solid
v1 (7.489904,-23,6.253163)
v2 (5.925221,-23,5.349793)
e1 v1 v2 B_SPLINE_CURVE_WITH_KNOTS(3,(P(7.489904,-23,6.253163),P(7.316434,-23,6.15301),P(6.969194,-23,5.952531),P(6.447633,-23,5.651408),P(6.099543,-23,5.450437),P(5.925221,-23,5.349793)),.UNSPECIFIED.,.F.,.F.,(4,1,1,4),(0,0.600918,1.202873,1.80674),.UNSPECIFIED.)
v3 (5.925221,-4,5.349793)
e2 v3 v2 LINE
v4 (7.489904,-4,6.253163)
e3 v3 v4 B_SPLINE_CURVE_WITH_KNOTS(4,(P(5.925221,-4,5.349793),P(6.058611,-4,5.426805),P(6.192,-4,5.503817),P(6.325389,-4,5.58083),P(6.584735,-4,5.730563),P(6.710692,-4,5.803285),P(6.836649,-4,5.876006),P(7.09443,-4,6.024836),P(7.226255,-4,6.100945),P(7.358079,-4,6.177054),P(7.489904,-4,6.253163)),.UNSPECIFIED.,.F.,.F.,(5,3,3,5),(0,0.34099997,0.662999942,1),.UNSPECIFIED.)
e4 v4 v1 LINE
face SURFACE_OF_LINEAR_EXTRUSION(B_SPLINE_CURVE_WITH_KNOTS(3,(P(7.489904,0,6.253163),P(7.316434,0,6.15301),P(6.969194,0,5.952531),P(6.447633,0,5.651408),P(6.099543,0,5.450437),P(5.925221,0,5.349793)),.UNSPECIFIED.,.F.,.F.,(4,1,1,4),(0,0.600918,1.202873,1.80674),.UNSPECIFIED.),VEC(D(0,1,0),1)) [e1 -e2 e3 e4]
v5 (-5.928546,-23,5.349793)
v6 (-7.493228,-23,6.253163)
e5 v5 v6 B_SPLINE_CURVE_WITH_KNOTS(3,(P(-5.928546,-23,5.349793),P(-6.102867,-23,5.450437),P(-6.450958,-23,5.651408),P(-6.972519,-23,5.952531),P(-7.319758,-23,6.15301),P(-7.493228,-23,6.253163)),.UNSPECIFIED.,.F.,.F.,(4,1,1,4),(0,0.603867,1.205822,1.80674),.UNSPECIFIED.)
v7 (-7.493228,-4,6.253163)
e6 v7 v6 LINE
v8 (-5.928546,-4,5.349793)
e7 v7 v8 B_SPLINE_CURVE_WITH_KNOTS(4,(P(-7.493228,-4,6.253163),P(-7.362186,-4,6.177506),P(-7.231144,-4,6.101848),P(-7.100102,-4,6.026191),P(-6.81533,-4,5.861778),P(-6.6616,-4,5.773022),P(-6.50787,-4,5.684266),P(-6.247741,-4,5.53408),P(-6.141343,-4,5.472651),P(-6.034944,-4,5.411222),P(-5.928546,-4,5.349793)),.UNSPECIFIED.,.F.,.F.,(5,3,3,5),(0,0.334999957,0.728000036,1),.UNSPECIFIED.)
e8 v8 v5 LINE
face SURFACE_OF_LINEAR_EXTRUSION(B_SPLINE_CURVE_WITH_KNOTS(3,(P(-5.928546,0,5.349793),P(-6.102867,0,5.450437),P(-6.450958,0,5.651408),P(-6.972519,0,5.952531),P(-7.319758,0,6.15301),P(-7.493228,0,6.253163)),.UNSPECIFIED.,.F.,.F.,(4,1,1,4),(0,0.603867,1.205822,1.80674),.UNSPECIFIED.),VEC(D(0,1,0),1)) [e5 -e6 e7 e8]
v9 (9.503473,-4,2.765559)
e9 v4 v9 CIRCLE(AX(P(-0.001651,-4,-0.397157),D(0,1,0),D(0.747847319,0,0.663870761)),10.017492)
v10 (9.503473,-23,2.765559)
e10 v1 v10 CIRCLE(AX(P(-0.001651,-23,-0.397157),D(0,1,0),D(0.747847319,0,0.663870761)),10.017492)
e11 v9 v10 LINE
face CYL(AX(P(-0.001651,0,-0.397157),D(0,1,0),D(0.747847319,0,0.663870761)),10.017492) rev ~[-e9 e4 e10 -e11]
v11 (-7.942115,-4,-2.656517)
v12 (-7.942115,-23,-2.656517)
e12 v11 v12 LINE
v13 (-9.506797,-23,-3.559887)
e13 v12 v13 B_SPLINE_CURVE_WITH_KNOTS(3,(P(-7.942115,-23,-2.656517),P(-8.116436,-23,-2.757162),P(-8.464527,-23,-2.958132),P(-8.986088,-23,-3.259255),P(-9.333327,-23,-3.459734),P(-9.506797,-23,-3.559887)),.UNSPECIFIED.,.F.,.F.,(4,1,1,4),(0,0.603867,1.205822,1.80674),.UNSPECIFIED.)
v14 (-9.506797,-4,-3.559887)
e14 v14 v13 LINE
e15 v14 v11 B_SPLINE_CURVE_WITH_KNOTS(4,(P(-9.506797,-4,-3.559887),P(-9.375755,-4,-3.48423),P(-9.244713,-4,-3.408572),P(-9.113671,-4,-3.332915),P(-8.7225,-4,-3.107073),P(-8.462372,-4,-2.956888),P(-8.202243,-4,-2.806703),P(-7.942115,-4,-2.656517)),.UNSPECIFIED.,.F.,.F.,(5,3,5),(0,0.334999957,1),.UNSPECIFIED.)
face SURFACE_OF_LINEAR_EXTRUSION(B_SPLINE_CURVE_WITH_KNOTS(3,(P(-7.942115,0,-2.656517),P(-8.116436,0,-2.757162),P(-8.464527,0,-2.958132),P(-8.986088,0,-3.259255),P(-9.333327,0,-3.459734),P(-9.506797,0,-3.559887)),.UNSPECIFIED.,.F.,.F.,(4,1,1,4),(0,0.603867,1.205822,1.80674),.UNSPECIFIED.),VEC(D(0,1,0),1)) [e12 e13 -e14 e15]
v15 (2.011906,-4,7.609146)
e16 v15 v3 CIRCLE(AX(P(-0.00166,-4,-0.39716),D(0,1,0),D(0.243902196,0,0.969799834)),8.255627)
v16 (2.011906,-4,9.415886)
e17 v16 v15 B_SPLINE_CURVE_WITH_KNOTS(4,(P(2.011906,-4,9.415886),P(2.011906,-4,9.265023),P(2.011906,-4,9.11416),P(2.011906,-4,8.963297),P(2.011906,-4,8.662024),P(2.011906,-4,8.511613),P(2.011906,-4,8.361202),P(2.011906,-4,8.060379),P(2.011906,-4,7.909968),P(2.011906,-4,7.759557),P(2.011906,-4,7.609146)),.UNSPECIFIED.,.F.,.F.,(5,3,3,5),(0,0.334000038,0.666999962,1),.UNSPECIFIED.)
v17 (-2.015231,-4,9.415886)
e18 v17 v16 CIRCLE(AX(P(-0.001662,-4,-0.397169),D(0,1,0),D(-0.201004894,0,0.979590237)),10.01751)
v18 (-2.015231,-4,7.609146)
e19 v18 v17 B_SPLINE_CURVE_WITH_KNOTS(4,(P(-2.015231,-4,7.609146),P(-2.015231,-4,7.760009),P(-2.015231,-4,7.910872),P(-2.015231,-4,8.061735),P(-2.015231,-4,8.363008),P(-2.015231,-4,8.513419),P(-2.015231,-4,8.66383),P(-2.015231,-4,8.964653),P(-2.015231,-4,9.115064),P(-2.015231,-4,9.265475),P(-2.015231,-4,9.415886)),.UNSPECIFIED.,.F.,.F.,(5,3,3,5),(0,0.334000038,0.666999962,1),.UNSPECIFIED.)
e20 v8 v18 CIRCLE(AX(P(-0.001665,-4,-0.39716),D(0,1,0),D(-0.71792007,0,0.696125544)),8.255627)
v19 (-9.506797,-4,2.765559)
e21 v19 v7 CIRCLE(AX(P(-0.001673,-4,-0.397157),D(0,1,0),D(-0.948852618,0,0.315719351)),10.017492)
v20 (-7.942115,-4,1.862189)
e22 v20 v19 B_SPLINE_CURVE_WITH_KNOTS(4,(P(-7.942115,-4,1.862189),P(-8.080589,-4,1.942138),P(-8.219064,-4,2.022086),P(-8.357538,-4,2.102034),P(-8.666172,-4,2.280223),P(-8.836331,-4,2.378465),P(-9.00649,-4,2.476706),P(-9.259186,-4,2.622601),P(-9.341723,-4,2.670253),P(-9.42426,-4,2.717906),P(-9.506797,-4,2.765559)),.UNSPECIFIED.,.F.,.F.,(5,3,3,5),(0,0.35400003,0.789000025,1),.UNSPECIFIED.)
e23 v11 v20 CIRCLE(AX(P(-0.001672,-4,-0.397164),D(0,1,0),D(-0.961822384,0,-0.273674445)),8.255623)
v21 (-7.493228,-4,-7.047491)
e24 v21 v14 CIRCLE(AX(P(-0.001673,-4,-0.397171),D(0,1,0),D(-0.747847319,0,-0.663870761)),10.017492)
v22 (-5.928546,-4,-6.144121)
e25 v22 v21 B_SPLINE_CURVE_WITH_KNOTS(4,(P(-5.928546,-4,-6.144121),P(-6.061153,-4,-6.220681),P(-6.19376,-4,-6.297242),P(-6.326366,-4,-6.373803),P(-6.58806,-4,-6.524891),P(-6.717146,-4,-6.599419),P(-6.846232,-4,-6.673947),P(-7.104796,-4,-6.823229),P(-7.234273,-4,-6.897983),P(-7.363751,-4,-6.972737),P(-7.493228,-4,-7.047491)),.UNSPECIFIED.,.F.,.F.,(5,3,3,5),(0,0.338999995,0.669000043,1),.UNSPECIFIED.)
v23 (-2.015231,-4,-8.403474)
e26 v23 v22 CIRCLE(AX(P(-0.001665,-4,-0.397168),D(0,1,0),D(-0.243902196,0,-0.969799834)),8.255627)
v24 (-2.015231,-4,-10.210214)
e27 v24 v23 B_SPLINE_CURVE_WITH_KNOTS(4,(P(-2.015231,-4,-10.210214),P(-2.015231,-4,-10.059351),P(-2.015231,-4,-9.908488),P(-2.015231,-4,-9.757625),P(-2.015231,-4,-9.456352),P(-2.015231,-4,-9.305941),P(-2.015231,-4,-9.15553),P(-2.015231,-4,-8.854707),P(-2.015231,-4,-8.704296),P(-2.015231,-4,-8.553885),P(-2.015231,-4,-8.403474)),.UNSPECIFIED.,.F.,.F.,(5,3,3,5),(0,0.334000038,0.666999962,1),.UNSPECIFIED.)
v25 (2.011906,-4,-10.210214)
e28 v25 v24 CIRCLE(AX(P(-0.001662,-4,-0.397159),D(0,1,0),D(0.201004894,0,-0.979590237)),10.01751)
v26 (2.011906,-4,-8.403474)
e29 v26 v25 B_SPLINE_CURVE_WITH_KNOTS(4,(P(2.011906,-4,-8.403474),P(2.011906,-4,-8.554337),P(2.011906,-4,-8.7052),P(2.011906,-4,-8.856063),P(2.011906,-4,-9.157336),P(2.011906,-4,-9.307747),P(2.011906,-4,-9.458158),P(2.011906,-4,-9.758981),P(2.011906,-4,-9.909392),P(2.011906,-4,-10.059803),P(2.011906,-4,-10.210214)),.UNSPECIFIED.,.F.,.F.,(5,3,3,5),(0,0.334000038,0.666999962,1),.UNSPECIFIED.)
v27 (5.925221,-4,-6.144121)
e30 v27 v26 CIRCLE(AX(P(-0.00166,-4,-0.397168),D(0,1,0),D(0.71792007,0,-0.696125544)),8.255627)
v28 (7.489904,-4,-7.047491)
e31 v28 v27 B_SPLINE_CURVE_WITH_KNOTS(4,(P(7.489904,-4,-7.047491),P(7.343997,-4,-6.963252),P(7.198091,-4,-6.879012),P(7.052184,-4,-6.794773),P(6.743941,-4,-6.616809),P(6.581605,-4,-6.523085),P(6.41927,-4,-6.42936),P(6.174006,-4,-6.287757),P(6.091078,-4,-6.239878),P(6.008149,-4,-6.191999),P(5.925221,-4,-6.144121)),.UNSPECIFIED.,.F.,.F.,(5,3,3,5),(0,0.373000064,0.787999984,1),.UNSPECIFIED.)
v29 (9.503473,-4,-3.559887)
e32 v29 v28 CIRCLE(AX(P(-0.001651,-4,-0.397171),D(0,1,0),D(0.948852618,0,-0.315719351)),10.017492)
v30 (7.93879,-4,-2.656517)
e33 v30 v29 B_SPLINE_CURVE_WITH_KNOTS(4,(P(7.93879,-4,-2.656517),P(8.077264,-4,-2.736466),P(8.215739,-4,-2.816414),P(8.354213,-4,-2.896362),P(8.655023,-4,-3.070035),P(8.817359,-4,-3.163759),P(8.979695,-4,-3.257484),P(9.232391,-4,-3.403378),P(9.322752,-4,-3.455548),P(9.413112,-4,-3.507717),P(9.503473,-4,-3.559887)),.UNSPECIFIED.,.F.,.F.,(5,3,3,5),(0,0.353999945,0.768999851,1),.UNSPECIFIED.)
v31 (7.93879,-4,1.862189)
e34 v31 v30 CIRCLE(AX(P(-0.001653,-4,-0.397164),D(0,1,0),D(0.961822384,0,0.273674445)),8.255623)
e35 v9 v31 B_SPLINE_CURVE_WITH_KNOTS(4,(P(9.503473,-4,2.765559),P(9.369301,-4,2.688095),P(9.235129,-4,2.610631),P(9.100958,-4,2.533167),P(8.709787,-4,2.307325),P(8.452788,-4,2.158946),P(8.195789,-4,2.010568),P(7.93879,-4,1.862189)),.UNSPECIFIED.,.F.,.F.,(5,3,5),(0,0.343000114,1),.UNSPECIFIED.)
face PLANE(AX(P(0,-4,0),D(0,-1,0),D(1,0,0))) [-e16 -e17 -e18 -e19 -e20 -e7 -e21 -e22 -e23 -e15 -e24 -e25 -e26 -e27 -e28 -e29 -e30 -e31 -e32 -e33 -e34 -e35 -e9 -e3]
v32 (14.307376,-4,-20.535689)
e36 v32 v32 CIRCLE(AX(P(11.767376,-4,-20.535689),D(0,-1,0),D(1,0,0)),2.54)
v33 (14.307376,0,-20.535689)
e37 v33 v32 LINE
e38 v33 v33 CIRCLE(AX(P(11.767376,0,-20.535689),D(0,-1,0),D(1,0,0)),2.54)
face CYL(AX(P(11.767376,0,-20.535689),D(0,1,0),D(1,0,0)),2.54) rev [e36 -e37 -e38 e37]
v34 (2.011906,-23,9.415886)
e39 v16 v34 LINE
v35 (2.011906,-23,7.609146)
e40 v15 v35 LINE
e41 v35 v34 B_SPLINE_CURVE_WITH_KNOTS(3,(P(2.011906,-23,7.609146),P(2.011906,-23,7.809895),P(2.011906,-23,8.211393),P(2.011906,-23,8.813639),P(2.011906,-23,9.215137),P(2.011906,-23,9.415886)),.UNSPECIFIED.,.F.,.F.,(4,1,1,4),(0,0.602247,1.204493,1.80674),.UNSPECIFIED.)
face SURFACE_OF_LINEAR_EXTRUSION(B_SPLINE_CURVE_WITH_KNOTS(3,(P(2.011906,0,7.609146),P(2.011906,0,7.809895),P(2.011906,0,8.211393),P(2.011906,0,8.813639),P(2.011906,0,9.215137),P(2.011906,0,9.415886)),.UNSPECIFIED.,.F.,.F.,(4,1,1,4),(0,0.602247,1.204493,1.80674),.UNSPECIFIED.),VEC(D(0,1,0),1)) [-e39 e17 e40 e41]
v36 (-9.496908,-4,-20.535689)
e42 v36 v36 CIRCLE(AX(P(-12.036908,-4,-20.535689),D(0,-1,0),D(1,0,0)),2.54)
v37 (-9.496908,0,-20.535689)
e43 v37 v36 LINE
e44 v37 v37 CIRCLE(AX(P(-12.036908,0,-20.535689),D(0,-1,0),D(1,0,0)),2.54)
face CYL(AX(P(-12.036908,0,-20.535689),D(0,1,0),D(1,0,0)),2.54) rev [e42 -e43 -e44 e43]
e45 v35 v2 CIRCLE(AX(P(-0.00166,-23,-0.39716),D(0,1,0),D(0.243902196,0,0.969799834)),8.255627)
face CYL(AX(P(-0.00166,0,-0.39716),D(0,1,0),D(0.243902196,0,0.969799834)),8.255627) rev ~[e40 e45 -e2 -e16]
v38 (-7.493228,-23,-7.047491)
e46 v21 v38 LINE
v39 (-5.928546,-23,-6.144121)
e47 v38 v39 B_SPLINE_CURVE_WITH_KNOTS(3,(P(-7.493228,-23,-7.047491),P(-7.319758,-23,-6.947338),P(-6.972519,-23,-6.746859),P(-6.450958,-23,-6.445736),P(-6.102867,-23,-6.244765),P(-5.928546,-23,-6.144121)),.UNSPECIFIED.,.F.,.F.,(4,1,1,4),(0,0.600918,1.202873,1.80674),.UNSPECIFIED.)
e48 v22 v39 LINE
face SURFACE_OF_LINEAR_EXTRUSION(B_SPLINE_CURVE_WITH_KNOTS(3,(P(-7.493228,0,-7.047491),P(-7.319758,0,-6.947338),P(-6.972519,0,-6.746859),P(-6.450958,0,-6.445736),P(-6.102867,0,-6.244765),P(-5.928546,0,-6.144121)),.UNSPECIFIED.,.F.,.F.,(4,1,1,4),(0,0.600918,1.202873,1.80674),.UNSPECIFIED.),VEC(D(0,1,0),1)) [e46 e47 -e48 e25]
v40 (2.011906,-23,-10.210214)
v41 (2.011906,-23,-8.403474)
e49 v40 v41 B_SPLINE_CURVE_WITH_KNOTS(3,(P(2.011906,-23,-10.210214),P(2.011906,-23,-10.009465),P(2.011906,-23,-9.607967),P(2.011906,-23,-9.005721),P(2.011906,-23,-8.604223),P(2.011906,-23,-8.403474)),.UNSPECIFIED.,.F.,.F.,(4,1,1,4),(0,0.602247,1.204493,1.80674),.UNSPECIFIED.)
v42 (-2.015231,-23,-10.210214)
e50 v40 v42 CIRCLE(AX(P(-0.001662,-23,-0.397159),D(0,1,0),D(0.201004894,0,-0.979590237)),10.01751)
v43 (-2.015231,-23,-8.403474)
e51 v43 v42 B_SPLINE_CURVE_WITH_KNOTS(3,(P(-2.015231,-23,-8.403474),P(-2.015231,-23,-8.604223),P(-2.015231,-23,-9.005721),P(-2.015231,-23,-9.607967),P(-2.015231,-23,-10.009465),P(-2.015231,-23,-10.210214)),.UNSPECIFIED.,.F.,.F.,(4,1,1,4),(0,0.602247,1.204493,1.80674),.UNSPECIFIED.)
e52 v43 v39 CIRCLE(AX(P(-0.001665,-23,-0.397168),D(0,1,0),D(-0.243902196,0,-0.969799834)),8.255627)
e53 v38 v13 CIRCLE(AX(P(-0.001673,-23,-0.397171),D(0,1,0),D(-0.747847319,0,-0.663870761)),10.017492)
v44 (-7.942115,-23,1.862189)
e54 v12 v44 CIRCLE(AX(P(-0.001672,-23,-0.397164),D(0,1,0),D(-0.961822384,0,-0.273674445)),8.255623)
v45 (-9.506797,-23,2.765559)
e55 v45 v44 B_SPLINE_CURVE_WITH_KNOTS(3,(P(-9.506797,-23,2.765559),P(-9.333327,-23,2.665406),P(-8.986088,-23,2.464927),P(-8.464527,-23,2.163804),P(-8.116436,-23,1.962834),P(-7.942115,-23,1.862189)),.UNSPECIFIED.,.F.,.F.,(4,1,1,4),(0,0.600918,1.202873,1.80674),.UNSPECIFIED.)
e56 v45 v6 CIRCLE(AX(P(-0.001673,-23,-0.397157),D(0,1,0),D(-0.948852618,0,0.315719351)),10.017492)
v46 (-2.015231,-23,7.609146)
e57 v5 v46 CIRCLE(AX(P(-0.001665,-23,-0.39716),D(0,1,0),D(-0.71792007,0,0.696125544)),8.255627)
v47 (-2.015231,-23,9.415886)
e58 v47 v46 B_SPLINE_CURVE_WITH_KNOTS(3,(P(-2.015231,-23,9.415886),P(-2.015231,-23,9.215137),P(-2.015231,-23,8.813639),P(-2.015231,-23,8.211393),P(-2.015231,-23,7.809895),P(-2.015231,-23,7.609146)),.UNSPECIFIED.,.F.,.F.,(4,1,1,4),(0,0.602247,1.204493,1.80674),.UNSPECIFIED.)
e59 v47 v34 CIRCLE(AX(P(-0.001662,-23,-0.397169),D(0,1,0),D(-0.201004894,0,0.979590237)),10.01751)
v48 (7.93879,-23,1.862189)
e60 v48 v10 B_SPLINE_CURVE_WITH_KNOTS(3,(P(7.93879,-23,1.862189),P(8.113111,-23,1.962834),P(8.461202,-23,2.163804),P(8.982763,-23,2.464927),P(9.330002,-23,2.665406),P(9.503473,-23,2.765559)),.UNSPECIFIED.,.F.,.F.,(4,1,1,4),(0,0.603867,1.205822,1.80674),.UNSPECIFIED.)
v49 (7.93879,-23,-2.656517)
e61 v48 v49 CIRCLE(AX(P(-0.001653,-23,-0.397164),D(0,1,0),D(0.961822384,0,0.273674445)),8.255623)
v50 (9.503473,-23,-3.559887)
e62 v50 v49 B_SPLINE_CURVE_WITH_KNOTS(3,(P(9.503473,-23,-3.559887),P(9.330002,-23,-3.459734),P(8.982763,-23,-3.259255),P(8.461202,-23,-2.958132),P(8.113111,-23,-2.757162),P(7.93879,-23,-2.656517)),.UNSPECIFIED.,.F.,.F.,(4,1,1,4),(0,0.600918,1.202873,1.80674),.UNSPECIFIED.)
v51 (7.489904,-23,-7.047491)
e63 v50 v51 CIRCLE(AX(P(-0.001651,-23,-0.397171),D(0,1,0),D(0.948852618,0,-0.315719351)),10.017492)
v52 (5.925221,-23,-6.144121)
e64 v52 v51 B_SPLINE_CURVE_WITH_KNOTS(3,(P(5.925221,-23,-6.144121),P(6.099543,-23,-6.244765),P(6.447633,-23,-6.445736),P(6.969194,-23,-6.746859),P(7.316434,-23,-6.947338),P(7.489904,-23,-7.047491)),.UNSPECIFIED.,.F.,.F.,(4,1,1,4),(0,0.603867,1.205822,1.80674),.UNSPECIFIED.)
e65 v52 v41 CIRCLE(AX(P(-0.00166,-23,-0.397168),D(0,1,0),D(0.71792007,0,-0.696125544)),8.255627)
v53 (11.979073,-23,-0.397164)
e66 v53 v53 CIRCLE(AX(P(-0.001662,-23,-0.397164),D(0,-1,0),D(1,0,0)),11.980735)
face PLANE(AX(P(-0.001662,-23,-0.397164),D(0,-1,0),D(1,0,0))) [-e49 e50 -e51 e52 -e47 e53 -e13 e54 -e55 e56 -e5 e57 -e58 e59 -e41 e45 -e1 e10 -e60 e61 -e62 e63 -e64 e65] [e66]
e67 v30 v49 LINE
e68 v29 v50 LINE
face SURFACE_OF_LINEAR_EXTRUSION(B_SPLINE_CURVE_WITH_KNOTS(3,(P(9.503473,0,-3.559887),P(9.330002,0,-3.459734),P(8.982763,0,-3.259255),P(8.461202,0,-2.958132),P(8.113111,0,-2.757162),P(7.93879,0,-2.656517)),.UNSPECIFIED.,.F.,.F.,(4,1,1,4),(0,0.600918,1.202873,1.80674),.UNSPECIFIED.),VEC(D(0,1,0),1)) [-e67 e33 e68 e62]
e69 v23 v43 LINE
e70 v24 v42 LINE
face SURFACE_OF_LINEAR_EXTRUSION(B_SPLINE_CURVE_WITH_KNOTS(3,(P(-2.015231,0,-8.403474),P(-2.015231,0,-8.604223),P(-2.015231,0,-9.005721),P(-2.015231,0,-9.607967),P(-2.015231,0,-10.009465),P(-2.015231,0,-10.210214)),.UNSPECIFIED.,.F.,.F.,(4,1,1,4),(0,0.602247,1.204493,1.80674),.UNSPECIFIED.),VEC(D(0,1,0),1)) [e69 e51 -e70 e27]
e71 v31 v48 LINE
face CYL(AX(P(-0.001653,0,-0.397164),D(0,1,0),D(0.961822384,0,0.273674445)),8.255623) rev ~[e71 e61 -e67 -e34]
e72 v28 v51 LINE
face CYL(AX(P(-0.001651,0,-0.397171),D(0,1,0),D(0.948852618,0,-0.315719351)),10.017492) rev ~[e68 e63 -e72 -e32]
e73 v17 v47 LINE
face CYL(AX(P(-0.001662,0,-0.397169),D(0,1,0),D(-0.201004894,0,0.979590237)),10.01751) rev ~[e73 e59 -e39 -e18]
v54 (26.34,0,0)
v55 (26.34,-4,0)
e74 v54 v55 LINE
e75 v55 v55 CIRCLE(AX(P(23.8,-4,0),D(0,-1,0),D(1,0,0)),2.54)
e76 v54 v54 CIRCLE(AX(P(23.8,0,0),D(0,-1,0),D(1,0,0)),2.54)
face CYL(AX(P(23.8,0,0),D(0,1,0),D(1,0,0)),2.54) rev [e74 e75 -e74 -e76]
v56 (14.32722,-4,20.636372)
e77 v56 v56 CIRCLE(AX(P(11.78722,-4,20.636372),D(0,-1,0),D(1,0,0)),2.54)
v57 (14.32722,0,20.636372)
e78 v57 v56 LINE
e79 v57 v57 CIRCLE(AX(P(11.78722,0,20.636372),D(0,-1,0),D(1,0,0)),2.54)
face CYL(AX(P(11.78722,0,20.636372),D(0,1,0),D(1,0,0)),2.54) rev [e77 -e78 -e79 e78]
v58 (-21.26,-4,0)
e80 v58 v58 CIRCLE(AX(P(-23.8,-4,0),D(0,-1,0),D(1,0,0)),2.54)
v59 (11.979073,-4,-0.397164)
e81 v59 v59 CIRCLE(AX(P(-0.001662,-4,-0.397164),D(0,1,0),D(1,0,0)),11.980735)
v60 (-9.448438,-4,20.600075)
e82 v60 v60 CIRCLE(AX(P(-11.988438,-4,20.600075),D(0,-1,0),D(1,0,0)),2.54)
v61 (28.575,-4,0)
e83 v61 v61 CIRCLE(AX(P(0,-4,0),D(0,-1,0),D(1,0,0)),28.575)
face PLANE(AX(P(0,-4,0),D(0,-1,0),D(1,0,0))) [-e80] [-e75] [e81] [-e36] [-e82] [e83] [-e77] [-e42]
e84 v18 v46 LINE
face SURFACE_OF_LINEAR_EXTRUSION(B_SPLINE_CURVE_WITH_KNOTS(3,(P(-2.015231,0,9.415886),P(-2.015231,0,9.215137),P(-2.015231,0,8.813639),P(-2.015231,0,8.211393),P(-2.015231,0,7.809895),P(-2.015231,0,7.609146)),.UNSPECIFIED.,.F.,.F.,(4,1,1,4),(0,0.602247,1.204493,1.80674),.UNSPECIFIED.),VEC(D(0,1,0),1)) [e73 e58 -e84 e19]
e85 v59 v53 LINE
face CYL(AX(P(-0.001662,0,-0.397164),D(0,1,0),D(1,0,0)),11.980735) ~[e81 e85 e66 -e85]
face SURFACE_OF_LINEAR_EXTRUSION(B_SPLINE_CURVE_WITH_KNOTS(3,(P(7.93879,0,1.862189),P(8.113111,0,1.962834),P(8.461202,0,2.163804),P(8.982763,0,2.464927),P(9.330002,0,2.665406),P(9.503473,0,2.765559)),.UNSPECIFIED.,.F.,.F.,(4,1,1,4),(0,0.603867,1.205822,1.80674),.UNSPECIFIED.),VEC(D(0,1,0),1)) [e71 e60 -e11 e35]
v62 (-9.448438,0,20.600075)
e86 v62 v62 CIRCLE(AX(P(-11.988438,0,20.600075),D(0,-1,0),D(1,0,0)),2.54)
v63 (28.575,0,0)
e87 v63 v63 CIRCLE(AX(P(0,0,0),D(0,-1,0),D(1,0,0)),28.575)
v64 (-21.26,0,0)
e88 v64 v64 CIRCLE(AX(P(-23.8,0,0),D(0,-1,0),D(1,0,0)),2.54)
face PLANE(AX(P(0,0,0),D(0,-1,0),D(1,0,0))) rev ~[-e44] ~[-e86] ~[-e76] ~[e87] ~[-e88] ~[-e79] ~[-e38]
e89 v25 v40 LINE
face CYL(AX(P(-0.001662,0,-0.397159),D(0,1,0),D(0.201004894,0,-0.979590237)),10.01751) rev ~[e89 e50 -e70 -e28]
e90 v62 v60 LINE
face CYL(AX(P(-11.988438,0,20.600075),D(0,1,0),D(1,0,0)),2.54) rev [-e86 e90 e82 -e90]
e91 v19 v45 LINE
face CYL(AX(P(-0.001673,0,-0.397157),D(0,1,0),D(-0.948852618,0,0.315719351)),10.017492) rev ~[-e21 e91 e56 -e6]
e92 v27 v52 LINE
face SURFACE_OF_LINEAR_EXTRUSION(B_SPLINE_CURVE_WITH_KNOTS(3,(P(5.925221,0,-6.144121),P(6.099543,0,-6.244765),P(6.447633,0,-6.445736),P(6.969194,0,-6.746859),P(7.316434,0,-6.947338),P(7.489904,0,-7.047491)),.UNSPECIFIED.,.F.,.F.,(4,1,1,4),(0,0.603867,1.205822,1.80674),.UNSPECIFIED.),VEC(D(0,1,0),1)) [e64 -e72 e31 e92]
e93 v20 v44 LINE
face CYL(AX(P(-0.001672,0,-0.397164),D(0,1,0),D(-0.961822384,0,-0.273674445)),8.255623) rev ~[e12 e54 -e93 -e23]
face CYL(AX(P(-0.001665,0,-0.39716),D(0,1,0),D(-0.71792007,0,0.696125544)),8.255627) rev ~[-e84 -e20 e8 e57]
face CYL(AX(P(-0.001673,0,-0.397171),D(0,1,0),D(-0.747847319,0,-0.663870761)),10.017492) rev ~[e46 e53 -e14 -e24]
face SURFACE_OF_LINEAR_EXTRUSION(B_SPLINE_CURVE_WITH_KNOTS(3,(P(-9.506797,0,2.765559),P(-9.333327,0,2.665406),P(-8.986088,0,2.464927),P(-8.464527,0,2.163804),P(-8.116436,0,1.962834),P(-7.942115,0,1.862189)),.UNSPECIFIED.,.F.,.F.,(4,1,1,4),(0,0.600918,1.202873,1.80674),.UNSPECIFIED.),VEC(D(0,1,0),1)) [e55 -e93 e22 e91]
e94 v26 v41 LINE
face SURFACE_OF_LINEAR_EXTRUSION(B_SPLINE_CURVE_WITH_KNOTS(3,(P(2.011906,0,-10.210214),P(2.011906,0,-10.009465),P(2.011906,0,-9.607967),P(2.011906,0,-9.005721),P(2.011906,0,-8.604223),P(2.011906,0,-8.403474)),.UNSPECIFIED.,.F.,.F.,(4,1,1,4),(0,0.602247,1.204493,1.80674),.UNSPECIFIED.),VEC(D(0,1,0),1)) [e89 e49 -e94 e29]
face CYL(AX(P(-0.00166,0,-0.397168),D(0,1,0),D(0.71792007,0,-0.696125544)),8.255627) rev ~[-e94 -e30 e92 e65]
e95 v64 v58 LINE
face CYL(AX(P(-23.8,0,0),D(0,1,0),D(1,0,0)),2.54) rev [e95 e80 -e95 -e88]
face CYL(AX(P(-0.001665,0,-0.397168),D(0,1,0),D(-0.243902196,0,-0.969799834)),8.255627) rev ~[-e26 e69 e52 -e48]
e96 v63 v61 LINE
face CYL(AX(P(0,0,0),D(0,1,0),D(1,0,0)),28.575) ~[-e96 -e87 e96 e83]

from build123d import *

# Parameters (mm, degrees)
F1_R     = 11.980735
F2_DEPTH = 23
F0_R     = 28.575
F0_R_2   = 2.54
F3_DEPTH = 4


with BuildPart() as f2:
    # F1 (on Front) → F2 (new body)
    with BuildSketch(Plane.XZ):
        with Locations((-0.001662, -0.397164)):
            Circle(F1_R)
        with BuildLine():
            add(Edge.make_bspline(
                [(2.011906, 7.609146), (2.011906, 7.809895), (2.011906, 8.211393), (2.011906, 8.813639), (2.011906, 9.215137), (2.011906, 9.415886)],
                knots=[0, 0, 0, 0, 0.602247, 1.204493, 1.80674, 1.80674, 1.80674, 1.80674], degree=3))
            ThreePointArc((2.011906, 7.609146), (4.126154, 6.752423), (5.925221, 5.349793))
            add(Edge.make_bspline(
                [(7.489904, 6.253163), (7.316434, 6.15301), (6.969194, 5.952531), (6.447633, 5.651408), (6.099543, 5.450437), (5.925221, 5.349793)],
                knots=[0, 0, 0, 0, 0.600918, 1.202873, 1.80674, 1.80674, 1.80674, 1.80674], degree=3))
            ThreePointArc((7.489904, 6.253163), (8.673752, 4.611589), (9.503473, 2.765559))
            add(Edge.make_bspline(
                [(7.93879, 1.862189), (8.113111, 1.962834), (8.461202, 2.163804), (8.982763, 2.464927), (9.330002, 2.665406), (9.503473, 2.765559)],
                knots=[0, 0, 0, 0, 0.603867, 1.205822, 1.80674, 1.80674, 1.80674, 1.80674], degree=3))
            ThreePointArc((7.93879, 1.862189), (8.25397, -0.397164), (7.93879, -2.656517))
            add(Edge.make_bspline(
                [(9.503473, -3.559887), (9.330002, -3.459734), (8.982763, -3.259255), (8.461202, -2.958132), (8.113111, -2.757162), (7.93879, -2.656517)],
                knots=[0, 0, 0, 0, 0.600918, 1.202873, 1.80674, 1.80674, 1.80674, 1.80674], degree=3))
            ThreePointArc((9.503473, -3.559887), (8.673752, -5.405917), (7.489904, -7.047491))
            add(Edge.make_bspline(
                [(5.925221, -6.144121), (6.099543, -6.244765), (6.447633, -6.445736), (6.969194, -6.746859), (7.316434, -6.947338), (7.489904, -7.047491)],
                knots=[0, 0, 0, 0, 0.603867, 1.205822, 1.80674, 1.80674, 1.80674, 1.80674], degree=3))
            ThreePointArc((5.925221, -6.144121), (4.126154, -7.546751), (2.011906, -8.403474))
            add(Edge.make_bspline(
                [(2.011906, -10.210214), (2.011906, -10.009465), (2.011906, -9.607967), (2.011906, -9.005721), (2.011906, -8.604223), (2.011906, -8.403474)],
                knots=[0, 0, 0, 0, 0.602247, 1.204493, 1.80674, 1.80674, 1.80674, 1.80674], degree=3))
            ThreePointArc((2.011906, -10.210214), (-0.001662, -10.414669), (-2.015231, -10.210214))
            add(Edge.make_bspline(
                [(-2.015231, -8.403474), (-2.015231, -8.604223), (-2.015231, -9.005721), (-2.015231, -9.607967), (-2.015231, -10.009465), (-2.015231, -10.210214)],
                knots=[0, 0, 0, 0, 0.602247, 1.204493, 1.80674, 1.80674, 1.80674, 1.80674], degree=3))
            ThreePointArc((-2.015231, -8.403474), (-4.129479, -7.546751), (-5.928546, -6.144121))
            add(Edge.make_bspline(
                [(-7.493228, -7.047491), (-7.319758, -6.947338), (-6.972519, -6.746859), (-6.450958, -6.445736), (-6.102867, -6.244765), (-5.928546, -6.144121)],
                knots=[0, 0, 0, 0, 0.600918, 1.202873, 1.80674, 1.80674, 1.80674, 1.80674], degree=3))
            ThreePointArc((-7.493228, -7.047491), (-8.677076, -5.405917), (-9.506797, -3.559887))
            add(Edge.make_bspline(
                [(-7.942115, -2.656517), (-8.116436, -2.757162), (-8.464527, -2.958132), (-8.986088, -3.259255), (-9.333327, -3.459734), (-9.506797, -3.559887)],
                knots=[0, 0, 0, 0, 0.603867, 1.205822, 1.80674, 1.80674, 1.80674, 1.80674], degree=3))
            ThreePointArc((-7.942115, -2.656517), (-8.257295, -0.397164), (-7.942115, 1.862189))
            add(Edge.make_bspline(
                [(-9.506797, 2.765559), (-9.333327, 2.665406), (-8.986088, 2.464927), (-8.464527, 2.163804), (-8.116436, 1.962834), (-7.942115, 1.862189)],
                knots=[0, 0, 0, 0, 0.600918, 1.202873, 1.80674, 1.80674, 1.80674, 1.80674], degree=3))
            ThreePointArc((-9.506797, 2.765559), (-8.677076, 4.611589), (-7.493228, 6.253163))
            add(Edge.make_bspline(
                [(-5.928546, 5.349793), (-6.102867, 5.450437), (-6.450958, 5.651408), (-6.972519, 5.952531), (-7.319758, 6.15301), (-7.493228, 6.253163)],
                knots=[0, 0, 0, 0, 0.603867, 1.205822, 1.80674, 1.80674, 1.80674, 1.80674], degree=3))
            ThreePointArc((-5.928546, 5.349793), (-4.129479, 6.752423), (-2.015231, 7.609146))
            add(Edge.make_bspline(
                [(-2.015231, 9.415886), (-2.015231, 9.215137), (-2.015231, 8.813639), (-2.015231, 8.211393), (-2.015231, 7.809895), (-2.015231, 7.609146)],
                knots=[0, 0, 0, 0, 0.602247, 1.204493, 1.80674, 1.80674, 1.80674, 1.80674], degree=3))
            ThreePointArc((-2.015231, 9.415886), (-0.001662, 9.620341), (2.011906, 9.415886))
        make_face(mode=Mode.SUBTRACT)
    extrude(amount=F2_DEPTH)

    # F0 (on Front) → F3 (join)
    with BuildSketch(Plane.XZ):
        Circle(F0_R)
        with Locations((-12.036908, -20.535689)):
            Circle(F0_R_2, mode=Mode.SUBTRACT)
        with Locations((11.767376, -20.535689)):
            Circle(F0_R_2, mode=Mode.SUBTRACT)
        with Locations((-23.8, 0)):
            Circle(F0_R_2, mode=Mode.SUBTRACT)
        with Locations((-11.988438, 20.600075)):
            Circle(F0_R_2, mode=Mode.SUBTRACT)
        with Locations((23.8, 0)):
            Circle(F0_R_2, mode=Mode.SUBTRACT)
        with Locations((11.78722, 20.636372)):
            Circle(F0_R_2, mode=Mode.SUBTRACT)
    extrude(amount=F3_DEPTH)


solid = f2.part
